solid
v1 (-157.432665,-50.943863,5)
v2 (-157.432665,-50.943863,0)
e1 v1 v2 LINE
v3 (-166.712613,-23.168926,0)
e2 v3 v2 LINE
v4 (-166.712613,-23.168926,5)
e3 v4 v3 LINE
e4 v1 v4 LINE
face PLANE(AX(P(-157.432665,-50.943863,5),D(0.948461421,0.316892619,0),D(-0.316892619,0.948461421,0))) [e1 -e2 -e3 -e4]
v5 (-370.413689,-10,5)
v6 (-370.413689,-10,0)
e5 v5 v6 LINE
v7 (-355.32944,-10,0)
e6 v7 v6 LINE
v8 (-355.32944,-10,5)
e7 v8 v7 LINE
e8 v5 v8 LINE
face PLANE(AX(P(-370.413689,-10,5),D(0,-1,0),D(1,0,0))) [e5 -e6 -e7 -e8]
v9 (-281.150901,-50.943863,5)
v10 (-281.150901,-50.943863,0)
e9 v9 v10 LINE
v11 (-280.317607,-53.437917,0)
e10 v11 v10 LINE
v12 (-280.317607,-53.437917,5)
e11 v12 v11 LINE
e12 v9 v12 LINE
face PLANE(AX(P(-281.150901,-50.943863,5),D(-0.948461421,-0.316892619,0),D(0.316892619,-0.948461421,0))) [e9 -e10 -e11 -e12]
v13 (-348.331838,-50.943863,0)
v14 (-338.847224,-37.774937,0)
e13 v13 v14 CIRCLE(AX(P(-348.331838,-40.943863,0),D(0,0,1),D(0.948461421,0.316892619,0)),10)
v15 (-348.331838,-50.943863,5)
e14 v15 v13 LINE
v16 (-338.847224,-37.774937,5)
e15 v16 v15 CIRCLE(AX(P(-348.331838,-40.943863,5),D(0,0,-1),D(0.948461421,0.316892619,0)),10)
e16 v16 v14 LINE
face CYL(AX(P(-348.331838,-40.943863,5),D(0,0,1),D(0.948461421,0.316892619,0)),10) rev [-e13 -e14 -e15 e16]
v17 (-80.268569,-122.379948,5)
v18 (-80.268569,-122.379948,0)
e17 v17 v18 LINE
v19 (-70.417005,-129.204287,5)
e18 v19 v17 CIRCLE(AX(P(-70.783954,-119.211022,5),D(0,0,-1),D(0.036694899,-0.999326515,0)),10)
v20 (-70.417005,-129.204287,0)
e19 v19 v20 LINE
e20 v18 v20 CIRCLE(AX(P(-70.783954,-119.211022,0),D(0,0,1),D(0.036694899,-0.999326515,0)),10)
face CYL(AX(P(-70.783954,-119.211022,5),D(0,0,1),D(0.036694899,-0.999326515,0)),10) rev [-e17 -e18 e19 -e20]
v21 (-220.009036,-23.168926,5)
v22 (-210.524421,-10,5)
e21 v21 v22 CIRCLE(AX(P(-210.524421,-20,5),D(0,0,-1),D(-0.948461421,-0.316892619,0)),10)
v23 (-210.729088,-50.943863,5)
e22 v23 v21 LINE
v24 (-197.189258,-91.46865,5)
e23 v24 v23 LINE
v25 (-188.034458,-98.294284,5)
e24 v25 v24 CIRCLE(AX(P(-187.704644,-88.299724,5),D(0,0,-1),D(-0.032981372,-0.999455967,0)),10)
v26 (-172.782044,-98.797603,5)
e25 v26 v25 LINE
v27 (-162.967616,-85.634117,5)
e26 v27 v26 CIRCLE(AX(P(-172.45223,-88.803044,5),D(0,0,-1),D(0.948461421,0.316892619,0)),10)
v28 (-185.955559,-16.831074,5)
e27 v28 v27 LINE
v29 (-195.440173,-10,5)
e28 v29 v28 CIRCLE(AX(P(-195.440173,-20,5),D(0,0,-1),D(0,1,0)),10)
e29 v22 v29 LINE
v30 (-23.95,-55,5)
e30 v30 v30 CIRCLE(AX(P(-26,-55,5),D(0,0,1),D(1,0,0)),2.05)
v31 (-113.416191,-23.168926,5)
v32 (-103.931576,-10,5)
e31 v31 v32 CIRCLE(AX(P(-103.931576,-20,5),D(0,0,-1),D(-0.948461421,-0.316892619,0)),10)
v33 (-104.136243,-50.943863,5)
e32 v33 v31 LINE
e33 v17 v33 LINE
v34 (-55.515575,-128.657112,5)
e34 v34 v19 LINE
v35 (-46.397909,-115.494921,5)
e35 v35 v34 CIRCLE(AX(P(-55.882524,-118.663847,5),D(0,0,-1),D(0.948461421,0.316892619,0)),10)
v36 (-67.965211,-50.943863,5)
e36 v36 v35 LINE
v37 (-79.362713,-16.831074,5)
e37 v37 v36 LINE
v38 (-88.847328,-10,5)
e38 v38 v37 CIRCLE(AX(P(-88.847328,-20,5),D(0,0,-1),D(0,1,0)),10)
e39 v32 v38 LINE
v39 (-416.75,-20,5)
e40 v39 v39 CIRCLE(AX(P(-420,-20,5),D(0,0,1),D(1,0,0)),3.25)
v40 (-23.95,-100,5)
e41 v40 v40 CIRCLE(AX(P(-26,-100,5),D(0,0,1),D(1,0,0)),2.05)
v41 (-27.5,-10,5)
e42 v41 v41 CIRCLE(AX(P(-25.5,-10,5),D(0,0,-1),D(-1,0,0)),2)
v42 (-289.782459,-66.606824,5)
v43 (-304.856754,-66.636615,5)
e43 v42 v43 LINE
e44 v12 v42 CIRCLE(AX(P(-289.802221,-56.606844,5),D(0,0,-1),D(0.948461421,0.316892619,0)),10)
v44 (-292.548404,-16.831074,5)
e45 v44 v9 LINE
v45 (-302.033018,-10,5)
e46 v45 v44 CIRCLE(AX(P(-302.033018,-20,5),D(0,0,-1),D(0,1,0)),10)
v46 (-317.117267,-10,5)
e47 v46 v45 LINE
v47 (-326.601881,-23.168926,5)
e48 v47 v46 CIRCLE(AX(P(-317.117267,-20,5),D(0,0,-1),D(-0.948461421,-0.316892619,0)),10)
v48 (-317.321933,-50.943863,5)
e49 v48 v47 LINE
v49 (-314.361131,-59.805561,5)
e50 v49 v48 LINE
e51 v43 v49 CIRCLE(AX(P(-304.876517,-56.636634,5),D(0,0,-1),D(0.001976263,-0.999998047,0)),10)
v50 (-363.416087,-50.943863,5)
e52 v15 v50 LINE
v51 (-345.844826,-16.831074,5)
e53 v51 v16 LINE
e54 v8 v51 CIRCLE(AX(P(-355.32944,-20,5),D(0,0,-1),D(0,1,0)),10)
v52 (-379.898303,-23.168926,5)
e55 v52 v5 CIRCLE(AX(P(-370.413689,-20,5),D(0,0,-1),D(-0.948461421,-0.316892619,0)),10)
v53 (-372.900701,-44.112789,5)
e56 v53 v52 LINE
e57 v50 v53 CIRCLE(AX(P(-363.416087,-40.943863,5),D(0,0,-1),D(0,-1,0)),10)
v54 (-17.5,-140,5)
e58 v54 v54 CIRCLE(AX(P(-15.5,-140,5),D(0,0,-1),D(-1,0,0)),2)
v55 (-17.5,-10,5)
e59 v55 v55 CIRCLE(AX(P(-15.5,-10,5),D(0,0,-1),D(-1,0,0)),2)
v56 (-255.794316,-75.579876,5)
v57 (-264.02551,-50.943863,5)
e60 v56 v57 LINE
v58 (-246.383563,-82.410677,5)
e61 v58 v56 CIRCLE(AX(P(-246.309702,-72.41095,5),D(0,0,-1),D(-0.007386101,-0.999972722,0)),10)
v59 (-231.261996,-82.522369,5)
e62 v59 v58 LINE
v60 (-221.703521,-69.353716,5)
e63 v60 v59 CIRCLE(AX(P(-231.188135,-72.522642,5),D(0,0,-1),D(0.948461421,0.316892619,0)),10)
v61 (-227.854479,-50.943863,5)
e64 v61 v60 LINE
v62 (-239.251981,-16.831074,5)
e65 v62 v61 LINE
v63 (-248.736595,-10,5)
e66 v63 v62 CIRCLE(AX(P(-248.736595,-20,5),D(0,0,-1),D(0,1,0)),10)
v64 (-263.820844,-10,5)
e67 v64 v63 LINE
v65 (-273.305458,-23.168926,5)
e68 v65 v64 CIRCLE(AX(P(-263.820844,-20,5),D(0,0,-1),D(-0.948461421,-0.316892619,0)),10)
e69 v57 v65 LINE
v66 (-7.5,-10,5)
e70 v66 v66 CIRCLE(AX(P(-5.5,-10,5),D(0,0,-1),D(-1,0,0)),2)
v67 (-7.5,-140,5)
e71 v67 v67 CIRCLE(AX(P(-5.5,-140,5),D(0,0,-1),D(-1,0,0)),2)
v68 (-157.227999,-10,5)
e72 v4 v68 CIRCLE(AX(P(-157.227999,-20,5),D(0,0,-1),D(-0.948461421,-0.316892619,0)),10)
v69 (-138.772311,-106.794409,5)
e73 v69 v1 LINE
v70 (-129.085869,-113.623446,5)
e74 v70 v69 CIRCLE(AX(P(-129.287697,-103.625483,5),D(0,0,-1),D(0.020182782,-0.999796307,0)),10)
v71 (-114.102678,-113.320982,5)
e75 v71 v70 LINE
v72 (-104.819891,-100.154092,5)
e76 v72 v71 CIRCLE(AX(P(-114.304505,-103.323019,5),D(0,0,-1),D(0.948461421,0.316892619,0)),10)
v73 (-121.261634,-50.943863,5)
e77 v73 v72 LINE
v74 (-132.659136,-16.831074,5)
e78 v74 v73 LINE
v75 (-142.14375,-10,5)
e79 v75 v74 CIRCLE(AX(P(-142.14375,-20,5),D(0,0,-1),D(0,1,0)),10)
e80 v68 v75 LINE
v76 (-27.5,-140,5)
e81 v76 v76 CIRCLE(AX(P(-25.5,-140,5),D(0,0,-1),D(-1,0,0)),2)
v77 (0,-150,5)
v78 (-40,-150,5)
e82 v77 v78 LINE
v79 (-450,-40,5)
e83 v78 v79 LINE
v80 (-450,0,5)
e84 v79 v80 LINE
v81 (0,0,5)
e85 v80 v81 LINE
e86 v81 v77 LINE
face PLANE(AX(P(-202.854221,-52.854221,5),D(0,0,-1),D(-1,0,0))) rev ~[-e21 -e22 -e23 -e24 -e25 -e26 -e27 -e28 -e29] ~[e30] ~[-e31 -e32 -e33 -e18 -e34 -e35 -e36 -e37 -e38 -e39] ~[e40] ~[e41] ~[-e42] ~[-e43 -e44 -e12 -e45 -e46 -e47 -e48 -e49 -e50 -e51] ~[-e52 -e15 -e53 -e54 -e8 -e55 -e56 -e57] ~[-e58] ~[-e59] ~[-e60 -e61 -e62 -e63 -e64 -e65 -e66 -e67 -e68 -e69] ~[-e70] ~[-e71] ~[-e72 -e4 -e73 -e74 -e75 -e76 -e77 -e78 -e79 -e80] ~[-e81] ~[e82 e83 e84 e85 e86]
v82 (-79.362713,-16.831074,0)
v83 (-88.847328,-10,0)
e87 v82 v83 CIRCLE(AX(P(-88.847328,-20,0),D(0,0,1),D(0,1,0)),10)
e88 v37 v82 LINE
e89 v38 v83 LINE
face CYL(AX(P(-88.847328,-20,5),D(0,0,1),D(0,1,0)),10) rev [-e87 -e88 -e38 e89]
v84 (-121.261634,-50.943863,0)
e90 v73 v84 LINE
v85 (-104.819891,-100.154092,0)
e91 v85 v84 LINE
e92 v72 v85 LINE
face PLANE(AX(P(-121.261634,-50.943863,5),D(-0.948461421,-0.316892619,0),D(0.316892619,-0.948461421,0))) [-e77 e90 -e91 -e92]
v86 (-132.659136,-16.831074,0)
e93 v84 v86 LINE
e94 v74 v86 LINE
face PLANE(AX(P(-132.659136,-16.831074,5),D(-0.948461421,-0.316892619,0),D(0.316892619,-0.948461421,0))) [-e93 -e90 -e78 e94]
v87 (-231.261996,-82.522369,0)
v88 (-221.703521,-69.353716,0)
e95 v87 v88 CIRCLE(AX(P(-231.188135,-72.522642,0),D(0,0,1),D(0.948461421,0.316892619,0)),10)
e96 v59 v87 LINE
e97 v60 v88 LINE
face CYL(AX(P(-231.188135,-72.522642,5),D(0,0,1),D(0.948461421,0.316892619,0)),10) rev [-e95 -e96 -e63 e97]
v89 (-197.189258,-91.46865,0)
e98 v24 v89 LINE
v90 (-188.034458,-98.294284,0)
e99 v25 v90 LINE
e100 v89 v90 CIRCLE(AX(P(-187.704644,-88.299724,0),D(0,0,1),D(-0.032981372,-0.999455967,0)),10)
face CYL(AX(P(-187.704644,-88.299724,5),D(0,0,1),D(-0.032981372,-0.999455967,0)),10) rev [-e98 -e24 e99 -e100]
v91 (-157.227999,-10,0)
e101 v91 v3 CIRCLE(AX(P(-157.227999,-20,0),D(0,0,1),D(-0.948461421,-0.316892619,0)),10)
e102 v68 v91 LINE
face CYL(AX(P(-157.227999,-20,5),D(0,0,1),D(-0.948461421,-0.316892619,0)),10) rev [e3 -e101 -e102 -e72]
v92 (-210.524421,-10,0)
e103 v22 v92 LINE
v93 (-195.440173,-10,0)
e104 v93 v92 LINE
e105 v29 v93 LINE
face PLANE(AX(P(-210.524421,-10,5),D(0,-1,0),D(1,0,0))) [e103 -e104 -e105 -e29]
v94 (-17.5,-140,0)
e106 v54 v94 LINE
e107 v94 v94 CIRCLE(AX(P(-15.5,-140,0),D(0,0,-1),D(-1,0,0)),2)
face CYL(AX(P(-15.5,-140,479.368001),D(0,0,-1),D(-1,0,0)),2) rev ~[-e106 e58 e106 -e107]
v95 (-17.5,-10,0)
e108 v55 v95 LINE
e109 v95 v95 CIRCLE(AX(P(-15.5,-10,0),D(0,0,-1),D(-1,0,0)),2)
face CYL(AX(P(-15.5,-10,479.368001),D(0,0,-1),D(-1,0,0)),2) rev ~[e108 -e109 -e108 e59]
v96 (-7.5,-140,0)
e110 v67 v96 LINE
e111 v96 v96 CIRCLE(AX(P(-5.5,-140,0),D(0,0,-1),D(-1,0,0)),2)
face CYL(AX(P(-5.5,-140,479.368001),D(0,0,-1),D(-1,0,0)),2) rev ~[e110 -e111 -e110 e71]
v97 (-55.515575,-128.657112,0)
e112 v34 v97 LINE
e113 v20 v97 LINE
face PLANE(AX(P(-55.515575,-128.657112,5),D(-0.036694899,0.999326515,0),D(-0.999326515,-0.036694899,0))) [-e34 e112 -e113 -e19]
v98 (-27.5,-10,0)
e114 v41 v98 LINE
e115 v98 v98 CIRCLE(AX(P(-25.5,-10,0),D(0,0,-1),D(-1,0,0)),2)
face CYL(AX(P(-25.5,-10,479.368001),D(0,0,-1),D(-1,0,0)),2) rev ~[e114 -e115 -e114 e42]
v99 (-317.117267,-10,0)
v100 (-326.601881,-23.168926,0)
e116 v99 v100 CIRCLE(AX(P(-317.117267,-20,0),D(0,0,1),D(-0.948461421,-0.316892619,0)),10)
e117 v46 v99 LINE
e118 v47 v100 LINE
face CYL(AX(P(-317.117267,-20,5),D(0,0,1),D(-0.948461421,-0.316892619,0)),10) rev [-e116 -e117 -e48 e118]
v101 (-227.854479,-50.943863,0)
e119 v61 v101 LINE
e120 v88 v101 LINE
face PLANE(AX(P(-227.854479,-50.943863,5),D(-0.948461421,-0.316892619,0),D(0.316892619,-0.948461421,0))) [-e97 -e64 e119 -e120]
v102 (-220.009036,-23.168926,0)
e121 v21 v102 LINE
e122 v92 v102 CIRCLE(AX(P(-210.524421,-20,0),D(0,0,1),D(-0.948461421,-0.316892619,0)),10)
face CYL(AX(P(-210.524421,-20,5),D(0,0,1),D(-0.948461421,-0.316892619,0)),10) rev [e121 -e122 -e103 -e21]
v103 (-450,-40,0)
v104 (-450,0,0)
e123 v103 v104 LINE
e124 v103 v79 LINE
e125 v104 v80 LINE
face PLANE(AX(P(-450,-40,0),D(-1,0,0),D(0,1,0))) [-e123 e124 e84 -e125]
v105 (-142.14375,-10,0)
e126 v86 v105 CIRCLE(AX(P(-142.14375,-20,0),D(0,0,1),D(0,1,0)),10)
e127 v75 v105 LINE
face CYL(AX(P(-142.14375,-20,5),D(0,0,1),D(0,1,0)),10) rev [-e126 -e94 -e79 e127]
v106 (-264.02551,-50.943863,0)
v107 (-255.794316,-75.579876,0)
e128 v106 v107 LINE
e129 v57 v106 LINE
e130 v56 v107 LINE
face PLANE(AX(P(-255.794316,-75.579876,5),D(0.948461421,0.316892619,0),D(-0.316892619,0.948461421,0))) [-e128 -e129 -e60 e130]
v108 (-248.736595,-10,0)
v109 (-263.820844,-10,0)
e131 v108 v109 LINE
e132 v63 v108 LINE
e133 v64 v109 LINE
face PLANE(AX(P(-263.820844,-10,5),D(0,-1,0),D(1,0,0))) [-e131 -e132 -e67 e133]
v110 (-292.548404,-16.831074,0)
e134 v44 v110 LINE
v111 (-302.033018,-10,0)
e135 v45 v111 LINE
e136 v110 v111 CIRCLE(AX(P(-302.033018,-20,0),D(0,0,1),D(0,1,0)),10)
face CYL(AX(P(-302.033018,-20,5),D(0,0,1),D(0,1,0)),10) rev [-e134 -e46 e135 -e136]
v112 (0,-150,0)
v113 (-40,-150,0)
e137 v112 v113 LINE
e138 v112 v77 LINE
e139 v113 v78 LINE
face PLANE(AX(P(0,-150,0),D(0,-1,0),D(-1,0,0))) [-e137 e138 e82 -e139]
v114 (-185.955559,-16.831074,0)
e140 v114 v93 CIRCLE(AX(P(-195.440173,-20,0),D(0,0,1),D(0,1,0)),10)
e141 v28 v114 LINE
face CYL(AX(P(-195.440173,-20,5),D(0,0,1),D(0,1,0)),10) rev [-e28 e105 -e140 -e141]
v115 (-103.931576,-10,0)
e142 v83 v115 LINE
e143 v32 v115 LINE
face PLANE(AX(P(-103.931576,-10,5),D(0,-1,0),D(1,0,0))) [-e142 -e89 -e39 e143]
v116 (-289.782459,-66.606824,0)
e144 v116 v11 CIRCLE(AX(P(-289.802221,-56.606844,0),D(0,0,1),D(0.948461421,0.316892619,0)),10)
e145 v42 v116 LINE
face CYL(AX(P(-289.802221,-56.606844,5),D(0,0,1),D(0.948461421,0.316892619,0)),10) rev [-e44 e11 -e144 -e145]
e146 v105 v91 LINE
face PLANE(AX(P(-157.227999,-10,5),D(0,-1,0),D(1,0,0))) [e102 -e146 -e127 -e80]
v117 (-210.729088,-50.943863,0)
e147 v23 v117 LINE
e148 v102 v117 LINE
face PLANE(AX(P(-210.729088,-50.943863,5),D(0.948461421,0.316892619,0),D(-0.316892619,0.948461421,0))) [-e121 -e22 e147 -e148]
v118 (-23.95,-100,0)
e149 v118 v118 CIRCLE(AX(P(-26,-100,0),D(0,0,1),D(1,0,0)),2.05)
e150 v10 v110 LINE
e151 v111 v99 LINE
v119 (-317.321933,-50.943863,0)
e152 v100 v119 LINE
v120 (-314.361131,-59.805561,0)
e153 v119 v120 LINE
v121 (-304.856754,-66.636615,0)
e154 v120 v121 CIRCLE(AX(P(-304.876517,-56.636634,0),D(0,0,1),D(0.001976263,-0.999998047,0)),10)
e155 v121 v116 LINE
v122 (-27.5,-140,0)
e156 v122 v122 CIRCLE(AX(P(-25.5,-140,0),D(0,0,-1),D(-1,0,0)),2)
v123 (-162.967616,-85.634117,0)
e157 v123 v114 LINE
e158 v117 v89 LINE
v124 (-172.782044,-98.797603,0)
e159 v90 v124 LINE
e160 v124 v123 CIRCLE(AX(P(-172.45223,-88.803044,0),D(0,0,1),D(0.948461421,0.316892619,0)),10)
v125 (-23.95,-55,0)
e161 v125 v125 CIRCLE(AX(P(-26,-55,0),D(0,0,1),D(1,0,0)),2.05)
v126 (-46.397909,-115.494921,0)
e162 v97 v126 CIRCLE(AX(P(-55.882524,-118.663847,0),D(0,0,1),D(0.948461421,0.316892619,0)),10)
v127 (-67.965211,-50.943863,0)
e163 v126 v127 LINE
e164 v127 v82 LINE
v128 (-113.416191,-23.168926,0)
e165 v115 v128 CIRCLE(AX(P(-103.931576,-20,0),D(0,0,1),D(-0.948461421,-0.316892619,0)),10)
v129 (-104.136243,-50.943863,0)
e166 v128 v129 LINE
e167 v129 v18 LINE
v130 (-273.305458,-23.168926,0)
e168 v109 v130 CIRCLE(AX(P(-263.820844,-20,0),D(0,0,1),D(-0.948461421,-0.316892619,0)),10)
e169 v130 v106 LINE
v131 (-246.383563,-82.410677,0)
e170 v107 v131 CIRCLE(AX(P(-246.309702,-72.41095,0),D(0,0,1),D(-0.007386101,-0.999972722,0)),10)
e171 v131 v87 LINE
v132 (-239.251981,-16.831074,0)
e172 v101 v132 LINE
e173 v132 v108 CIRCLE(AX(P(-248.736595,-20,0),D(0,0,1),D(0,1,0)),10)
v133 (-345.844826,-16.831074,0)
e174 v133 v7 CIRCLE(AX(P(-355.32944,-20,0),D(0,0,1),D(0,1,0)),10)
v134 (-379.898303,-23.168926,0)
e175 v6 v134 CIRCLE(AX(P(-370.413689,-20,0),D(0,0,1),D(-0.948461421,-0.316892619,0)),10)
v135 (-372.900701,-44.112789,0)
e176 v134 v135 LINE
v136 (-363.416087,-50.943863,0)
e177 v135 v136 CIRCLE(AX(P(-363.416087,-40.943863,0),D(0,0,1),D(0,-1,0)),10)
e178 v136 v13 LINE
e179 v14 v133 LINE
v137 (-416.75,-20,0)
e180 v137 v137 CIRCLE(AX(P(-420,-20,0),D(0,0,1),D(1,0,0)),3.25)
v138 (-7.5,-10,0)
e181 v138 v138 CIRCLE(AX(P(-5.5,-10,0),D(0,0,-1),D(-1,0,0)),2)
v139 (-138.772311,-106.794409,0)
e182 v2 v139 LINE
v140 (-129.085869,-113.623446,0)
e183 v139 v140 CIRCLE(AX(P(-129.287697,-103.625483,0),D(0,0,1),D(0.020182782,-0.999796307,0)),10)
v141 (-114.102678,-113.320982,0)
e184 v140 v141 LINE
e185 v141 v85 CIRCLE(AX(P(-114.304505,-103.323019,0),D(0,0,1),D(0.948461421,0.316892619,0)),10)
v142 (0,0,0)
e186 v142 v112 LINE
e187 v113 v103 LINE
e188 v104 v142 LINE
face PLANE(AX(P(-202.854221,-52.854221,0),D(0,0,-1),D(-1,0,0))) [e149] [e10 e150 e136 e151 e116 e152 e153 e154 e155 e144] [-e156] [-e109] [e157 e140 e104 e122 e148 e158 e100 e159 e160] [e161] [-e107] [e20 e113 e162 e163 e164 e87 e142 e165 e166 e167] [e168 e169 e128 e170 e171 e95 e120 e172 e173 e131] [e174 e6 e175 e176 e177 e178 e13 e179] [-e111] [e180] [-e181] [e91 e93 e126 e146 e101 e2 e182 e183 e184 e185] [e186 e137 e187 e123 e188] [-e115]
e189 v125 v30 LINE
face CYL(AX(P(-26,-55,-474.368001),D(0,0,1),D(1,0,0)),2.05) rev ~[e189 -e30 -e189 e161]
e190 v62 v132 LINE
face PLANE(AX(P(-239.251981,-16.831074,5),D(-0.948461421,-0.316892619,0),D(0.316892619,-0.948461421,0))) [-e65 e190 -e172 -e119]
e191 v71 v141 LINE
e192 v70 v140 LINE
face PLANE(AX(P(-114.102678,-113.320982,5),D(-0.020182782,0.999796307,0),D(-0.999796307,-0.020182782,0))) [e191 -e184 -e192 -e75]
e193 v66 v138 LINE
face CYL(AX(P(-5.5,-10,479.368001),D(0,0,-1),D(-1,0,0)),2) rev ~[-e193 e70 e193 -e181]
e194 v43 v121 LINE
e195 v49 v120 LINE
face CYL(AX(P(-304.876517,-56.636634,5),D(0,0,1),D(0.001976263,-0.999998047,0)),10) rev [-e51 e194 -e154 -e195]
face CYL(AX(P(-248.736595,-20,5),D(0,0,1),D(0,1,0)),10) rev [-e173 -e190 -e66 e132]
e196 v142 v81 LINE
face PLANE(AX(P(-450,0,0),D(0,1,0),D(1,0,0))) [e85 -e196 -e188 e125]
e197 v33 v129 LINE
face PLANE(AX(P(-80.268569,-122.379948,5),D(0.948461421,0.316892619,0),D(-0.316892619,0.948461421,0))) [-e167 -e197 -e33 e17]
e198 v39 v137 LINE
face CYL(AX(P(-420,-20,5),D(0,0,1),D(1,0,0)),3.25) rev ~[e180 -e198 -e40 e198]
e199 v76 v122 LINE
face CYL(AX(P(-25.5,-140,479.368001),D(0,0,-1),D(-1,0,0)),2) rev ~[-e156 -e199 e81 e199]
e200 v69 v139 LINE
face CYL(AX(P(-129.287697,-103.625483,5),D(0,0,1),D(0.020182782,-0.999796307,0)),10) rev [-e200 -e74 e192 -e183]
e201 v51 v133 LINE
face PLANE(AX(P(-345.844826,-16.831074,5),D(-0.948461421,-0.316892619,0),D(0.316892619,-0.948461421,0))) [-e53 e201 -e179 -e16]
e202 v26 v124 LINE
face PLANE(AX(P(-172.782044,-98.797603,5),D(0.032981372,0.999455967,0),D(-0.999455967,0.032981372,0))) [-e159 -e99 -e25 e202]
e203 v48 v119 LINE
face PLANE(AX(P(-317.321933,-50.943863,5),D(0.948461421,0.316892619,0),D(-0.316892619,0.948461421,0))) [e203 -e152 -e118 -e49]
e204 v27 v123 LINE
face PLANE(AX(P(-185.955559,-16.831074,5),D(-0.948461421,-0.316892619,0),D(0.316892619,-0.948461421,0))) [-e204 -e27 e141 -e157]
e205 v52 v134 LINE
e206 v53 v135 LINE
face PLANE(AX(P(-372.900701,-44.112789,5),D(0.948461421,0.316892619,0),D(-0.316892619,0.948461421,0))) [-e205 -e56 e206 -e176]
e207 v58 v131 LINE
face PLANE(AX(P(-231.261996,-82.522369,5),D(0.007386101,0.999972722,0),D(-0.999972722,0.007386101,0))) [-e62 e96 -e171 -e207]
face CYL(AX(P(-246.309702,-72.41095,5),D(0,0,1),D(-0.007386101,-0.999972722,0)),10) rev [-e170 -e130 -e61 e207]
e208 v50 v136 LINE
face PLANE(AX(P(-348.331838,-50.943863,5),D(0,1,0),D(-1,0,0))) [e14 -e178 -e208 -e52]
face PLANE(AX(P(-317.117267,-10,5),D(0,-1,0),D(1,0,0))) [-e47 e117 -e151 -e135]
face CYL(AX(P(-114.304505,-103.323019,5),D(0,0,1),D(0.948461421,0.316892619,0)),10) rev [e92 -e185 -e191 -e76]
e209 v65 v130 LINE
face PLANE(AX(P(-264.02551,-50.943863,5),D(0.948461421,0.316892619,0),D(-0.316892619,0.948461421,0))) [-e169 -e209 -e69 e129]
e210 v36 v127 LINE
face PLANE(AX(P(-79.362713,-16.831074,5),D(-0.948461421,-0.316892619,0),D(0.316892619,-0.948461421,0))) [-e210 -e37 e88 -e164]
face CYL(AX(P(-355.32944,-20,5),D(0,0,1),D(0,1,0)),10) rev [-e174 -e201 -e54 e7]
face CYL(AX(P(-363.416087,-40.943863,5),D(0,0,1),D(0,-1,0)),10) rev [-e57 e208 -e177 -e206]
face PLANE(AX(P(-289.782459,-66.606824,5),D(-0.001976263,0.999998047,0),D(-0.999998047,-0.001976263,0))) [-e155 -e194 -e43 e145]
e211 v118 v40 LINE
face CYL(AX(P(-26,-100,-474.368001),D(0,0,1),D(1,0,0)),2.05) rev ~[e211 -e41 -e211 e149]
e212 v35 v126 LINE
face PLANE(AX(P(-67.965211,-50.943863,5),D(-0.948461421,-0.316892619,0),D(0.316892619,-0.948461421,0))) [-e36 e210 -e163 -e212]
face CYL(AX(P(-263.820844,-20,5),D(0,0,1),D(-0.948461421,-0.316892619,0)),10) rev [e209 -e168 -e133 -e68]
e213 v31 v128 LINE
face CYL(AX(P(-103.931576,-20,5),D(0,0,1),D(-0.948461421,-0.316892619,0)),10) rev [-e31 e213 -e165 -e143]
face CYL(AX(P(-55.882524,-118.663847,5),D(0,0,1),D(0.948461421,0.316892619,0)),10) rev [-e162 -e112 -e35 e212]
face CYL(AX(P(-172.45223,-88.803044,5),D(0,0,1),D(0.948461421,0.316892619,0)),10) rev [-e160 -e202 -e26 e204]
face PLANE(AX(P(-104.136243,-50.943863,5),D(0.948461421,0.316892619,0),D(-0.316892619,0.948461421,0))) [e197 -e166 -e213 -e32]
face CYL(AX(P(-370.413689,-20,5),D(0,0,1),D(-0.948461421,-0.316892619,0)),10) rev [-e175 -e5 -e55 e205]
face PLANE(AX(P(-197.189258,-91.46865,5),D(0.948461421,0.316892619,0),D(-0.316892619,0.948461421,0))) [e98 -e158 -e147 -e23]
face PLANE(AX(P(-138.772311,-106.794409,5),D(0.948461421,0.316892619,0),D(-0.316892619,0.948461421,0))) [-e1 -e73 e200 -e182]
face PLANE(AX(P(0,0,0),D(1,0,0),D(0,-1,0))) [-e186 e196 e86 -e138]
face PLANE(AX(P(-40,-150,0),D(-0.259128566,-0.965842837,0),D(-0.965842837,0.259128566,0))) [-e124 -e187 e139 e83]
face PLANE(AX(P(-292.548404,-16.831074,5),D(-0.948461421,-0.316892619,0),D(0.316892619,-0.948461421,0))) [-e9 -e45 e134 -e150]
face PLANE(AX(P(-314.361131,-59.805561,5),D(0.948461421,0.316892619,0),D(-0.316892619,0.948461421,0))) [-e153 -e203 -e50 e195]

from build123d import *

# Parameters (mm, degrees)
AUFSATZ_LINEAR_AUSTRAGEN1_DEPTH  = 5
SKIZZE2_R                        = 3.25
SCHNITT_LINEAR_AUSTRAGEN1_DEPTH  = 6
F_4_0_4_DURCHMESSER_BOHRUNG1_D   = 4
F_4_1_4_1_DURCHMESSER_BOHRUNG1_D = 4.1
SCHNITT_LINEAR_AUSTRAGEN2_DEPTH  = 8


with BuildPart() as part:
    # Skizze1 → Aufsatz-Linear austragen1 (new body)
    with BuildSketch(Plane.XY):
        Polygon((0, 0), (0, -150), (-40, -150), (-450, -40), (-450, 0), align=None)
    extrude(amount=AUFSATZ_LINEAR_AUSTRAGEN1_DEPTH)

    # Skizze2 → Schnitt-Linear austragen1 (cut, through all)
    with BuildSketch(Plane.XY.offset(5)):
        with Locations((-420, -20)):
            Circle(SKIZZE2_R)
    extrude(amount=-SCHNITT_LINEAR_AUSTRAGEN1_DEPTH, mode=Mode.SUBTRACT)

    # Ø4.0 (4) Durchmesser Bohrung1 (through all)
    with Locations(Plane.XY.offset(5)):
        with Locations((-25.5, -10), (-15.5, -10), (-5.5, -10), (-5.5, -140), (-15.5, -140), (-25.5, -140)):
            Hole(F_4_0_4_DURCHMESSER_BOHRUNG1_D / 2)

    # Ø4.1 (4.1) Durchmesser Bohrung1 (through all)
    with Locations(Plane(origin=(0, 0, 0), x_dir=(-1, 0, 0), z_dir=(0, 0, -1))):
        with Locations((26, -55), (26, -100)):
            Hole(F_4_1_4_1_DURCHMESSER_BOHRUNG1_D / 2)

    # Skizze9 → Schnitt-Linear austragen2 (cut)
    with BuildSketch(Plane.XY.offset(5)):
        with BuildLine():
            Line((-103.931576355, -10), (-88.847327603, -10))
            ThreePointArc((-88.847327603, -10), (-83.003068108, -11.885529533), (-79.362713389, -16.831073809))
            Line((-79.362713389, -16.831073809), (-67.965211215, -50.943863007))
            Line((-67.965211215, -50.943863007), (-46.397909384, -115.49492075))
            ThreePointArc((-46.397909384, -115.49492075), (-47.662174175, -124.358217438), (-55.515574608, -128.657112095))
            Line((-55.515574608, -128.657112095), (-70.41700546, -129.20428711))
            ThreePointArc((-70.41700546, -129.20428711), (-76.478324948, -127.43137138), (-80.268568666, -122.379948147))
            Line((-80.268568666, -122.379948147), (-104.136242779, -50.943863007))
            Line((-104.136242779, -50.943863007), (-113.416190569, -23.168926191))
            ThreePointArc((-113.416190569, -23.168926191), (-112.046046821, -14.155740505), (-103.931576355, -10))
        make_face()
        with BuildLine():
            Line((-132.659135945, -16.831073809), (-121.261633772, -50.943863007))
            Line((-121.261633772, -50.943863007), (-104.819891238, -100.154092454))
            ThreePointArc((-104.819891238, -100.154092454), (-106.1314685, -109.085090058), (-114.102677631, -113.320981714))
            Line((-114.102677631, -113.320981714), (-129.085869406, -113.62344582))
            ThreePointArc((-129.085869406, -113.62344582), (-135.049768642, -111.798519703), (-138.772311443, -106.794408942))
            Line((-138.772311443, -106.794408942), (-157.432665335, -50.943863007))
            Line((-157.432665335, -50.943863007), (-166.712613125, -23.168926191))
            ThreePointArc((-166.712613125, -23.168926191), (-165.342469378, -14.155740505), (-157.227998911, -10))
            Line((-157.227998911, -10), (-142.14375016, -10))
            ThreePointArc((-142.14375016, -10), (-136.299490665, -11.885529533), (-132.659135945, -16.831073809))
        make_face()
        with BuildLine():
            Line((-185.955558502, -16.831073809), (-174.558056328, -50.943863007))
            Line((-174.558056328, -50.943863007), (-162.967615916, -85.634117455))
            ThreePointArc((-162.967615916, -85.634117455), (-164.435252335, -94.780339607), (-172.782043853, -98.797603311))
            Line((-172.782043853, -98.797603311), (-188.034457791, -98.294283947))
            ThreePointArc((-188.034457791, -98.294283947), (-193.68194003, -96.316702077), (-197.189258283, -91.468650472))
            Line((-197.189258283, -91.468650472), (-210.729087892, -50.943863007))
            Line((-210.729087892, -50.943863007), (-220.009035682, -23.168926191))
            ThreePointArc((-220.009035682, -23.168926191), (-218.638891934, -14.155740505), (-210.524421467, -10))
            Line((-210.524421467, -10), (-195.440172716, -10))
            ThreePointArc((-195.440172716, -10), (-189.595913221, -11.885529533), (-185.955558502, -16.831073809))
        make_face()
        with BuildLine():
            Line((-239.251981058, -16.831073809), (-227.854478884, -50.943863007))
            Line((-227.854478884, -50.943863007), (-221.703520719, -69.353715979))
            ThreePointArc((-221.703520719, -69.353715979), (-223.095303096, -78.396829164), (-231.261995944, -82.522369394))
            Line((-231.261995944, -82.522369394), (-246.383562521, -82.410676928))
            ThreePointArc((-246.383562521, -82.410676928), (-252.183888505, -80.503781541), (-255.794315725, -75.579875894))
            Line((-255.794315725, -75.579875894), (-264.025510448, -50.943863007))
            Line((-264.025510448, -50.943863007), (-273.305458238, -23.168926191))
            ThreePointArc((-273.305458238, -23.168926191), (-271.93531449, -14.155740505), (-263.820844024, -10))
            Line((-263.820844024, -10), (-248.736595273, -10))
            ThreePointArc((-248.736595273, -10), (-242.892335777, -11.885529533), (-239.251981058, -16.831073809))
        make_face()
        with BuildLine():
            Line((-292.548403615, -16.831073809), (-281.150901441, -50.943863007))
            Line((-281.150901441, -50.943863007), (-280.31760719, -53.437917466))
            ThreePointArc((-280.31760719, -53.437917466), (-281.68198, -62.443082132), (-289.782458776, -66.606824129))
            Line((-289.782458776, -66.606824129), (-304.856754045, -66.636614958))
            ThreePointArc((-304.856754045, -66.636614958), (-310.712755148, -64.75687589), (-314.361130888, -59.805560676))
            Line((-314.361130888, -59.805560676), (-317.321933004, -50.943863007))
            Line((-317.321933004, -50.943863007), (-326.601880795, -23.168926191))
            ThreePointArc((-326.601880795, -23.168926191), (-325.231737047, -14.155740505), (-317.11726658, -10))
            Line((-317.11726658, -10), (-302.033017829, -10))
            ThreePointArc((-302.033017829, -10), (-296.188758334, -11.885529533), (-292.548403615, -16.831073809))
        make_face()
        with BuildLine():
            Line((-345.844826171, -16.831073809), (-338.847224106, -37.774936817))
            ThreePointArc((-338.847224106, -37.774936817), (-340.217367853, -46.788122502), (-348.33183832, -50.943863007))
            Line((-348.33183832, -50.943863007), (-363.416087071, -50.943863007))
            ThreePointArc((-363.416087071, -50.943863007), (-369.260346566, -49.058333474), (-372.900701286, -44.112789198))
            Line((-372.900701286, -44.112789198), (-379.898303351, -23.168926191))
            ThreePointArc((-379.898303351, -23.168926191), (-378.528159603, -14.155740505), (-370.413689137, -10))
            Line((-370.413689137, -10), (-355.329440386, -10))
            ThreePointArc((-355.329440386, -10), (-349.48518089, -11.885529533), (-345.844826171, -16.831073809))
        make_face()
    extrude(amount=-SCHNITT_LINEAR_AUSTRAGEN2_DEPTH, mode=Mode.SUBTRACT)


solid = part.part
